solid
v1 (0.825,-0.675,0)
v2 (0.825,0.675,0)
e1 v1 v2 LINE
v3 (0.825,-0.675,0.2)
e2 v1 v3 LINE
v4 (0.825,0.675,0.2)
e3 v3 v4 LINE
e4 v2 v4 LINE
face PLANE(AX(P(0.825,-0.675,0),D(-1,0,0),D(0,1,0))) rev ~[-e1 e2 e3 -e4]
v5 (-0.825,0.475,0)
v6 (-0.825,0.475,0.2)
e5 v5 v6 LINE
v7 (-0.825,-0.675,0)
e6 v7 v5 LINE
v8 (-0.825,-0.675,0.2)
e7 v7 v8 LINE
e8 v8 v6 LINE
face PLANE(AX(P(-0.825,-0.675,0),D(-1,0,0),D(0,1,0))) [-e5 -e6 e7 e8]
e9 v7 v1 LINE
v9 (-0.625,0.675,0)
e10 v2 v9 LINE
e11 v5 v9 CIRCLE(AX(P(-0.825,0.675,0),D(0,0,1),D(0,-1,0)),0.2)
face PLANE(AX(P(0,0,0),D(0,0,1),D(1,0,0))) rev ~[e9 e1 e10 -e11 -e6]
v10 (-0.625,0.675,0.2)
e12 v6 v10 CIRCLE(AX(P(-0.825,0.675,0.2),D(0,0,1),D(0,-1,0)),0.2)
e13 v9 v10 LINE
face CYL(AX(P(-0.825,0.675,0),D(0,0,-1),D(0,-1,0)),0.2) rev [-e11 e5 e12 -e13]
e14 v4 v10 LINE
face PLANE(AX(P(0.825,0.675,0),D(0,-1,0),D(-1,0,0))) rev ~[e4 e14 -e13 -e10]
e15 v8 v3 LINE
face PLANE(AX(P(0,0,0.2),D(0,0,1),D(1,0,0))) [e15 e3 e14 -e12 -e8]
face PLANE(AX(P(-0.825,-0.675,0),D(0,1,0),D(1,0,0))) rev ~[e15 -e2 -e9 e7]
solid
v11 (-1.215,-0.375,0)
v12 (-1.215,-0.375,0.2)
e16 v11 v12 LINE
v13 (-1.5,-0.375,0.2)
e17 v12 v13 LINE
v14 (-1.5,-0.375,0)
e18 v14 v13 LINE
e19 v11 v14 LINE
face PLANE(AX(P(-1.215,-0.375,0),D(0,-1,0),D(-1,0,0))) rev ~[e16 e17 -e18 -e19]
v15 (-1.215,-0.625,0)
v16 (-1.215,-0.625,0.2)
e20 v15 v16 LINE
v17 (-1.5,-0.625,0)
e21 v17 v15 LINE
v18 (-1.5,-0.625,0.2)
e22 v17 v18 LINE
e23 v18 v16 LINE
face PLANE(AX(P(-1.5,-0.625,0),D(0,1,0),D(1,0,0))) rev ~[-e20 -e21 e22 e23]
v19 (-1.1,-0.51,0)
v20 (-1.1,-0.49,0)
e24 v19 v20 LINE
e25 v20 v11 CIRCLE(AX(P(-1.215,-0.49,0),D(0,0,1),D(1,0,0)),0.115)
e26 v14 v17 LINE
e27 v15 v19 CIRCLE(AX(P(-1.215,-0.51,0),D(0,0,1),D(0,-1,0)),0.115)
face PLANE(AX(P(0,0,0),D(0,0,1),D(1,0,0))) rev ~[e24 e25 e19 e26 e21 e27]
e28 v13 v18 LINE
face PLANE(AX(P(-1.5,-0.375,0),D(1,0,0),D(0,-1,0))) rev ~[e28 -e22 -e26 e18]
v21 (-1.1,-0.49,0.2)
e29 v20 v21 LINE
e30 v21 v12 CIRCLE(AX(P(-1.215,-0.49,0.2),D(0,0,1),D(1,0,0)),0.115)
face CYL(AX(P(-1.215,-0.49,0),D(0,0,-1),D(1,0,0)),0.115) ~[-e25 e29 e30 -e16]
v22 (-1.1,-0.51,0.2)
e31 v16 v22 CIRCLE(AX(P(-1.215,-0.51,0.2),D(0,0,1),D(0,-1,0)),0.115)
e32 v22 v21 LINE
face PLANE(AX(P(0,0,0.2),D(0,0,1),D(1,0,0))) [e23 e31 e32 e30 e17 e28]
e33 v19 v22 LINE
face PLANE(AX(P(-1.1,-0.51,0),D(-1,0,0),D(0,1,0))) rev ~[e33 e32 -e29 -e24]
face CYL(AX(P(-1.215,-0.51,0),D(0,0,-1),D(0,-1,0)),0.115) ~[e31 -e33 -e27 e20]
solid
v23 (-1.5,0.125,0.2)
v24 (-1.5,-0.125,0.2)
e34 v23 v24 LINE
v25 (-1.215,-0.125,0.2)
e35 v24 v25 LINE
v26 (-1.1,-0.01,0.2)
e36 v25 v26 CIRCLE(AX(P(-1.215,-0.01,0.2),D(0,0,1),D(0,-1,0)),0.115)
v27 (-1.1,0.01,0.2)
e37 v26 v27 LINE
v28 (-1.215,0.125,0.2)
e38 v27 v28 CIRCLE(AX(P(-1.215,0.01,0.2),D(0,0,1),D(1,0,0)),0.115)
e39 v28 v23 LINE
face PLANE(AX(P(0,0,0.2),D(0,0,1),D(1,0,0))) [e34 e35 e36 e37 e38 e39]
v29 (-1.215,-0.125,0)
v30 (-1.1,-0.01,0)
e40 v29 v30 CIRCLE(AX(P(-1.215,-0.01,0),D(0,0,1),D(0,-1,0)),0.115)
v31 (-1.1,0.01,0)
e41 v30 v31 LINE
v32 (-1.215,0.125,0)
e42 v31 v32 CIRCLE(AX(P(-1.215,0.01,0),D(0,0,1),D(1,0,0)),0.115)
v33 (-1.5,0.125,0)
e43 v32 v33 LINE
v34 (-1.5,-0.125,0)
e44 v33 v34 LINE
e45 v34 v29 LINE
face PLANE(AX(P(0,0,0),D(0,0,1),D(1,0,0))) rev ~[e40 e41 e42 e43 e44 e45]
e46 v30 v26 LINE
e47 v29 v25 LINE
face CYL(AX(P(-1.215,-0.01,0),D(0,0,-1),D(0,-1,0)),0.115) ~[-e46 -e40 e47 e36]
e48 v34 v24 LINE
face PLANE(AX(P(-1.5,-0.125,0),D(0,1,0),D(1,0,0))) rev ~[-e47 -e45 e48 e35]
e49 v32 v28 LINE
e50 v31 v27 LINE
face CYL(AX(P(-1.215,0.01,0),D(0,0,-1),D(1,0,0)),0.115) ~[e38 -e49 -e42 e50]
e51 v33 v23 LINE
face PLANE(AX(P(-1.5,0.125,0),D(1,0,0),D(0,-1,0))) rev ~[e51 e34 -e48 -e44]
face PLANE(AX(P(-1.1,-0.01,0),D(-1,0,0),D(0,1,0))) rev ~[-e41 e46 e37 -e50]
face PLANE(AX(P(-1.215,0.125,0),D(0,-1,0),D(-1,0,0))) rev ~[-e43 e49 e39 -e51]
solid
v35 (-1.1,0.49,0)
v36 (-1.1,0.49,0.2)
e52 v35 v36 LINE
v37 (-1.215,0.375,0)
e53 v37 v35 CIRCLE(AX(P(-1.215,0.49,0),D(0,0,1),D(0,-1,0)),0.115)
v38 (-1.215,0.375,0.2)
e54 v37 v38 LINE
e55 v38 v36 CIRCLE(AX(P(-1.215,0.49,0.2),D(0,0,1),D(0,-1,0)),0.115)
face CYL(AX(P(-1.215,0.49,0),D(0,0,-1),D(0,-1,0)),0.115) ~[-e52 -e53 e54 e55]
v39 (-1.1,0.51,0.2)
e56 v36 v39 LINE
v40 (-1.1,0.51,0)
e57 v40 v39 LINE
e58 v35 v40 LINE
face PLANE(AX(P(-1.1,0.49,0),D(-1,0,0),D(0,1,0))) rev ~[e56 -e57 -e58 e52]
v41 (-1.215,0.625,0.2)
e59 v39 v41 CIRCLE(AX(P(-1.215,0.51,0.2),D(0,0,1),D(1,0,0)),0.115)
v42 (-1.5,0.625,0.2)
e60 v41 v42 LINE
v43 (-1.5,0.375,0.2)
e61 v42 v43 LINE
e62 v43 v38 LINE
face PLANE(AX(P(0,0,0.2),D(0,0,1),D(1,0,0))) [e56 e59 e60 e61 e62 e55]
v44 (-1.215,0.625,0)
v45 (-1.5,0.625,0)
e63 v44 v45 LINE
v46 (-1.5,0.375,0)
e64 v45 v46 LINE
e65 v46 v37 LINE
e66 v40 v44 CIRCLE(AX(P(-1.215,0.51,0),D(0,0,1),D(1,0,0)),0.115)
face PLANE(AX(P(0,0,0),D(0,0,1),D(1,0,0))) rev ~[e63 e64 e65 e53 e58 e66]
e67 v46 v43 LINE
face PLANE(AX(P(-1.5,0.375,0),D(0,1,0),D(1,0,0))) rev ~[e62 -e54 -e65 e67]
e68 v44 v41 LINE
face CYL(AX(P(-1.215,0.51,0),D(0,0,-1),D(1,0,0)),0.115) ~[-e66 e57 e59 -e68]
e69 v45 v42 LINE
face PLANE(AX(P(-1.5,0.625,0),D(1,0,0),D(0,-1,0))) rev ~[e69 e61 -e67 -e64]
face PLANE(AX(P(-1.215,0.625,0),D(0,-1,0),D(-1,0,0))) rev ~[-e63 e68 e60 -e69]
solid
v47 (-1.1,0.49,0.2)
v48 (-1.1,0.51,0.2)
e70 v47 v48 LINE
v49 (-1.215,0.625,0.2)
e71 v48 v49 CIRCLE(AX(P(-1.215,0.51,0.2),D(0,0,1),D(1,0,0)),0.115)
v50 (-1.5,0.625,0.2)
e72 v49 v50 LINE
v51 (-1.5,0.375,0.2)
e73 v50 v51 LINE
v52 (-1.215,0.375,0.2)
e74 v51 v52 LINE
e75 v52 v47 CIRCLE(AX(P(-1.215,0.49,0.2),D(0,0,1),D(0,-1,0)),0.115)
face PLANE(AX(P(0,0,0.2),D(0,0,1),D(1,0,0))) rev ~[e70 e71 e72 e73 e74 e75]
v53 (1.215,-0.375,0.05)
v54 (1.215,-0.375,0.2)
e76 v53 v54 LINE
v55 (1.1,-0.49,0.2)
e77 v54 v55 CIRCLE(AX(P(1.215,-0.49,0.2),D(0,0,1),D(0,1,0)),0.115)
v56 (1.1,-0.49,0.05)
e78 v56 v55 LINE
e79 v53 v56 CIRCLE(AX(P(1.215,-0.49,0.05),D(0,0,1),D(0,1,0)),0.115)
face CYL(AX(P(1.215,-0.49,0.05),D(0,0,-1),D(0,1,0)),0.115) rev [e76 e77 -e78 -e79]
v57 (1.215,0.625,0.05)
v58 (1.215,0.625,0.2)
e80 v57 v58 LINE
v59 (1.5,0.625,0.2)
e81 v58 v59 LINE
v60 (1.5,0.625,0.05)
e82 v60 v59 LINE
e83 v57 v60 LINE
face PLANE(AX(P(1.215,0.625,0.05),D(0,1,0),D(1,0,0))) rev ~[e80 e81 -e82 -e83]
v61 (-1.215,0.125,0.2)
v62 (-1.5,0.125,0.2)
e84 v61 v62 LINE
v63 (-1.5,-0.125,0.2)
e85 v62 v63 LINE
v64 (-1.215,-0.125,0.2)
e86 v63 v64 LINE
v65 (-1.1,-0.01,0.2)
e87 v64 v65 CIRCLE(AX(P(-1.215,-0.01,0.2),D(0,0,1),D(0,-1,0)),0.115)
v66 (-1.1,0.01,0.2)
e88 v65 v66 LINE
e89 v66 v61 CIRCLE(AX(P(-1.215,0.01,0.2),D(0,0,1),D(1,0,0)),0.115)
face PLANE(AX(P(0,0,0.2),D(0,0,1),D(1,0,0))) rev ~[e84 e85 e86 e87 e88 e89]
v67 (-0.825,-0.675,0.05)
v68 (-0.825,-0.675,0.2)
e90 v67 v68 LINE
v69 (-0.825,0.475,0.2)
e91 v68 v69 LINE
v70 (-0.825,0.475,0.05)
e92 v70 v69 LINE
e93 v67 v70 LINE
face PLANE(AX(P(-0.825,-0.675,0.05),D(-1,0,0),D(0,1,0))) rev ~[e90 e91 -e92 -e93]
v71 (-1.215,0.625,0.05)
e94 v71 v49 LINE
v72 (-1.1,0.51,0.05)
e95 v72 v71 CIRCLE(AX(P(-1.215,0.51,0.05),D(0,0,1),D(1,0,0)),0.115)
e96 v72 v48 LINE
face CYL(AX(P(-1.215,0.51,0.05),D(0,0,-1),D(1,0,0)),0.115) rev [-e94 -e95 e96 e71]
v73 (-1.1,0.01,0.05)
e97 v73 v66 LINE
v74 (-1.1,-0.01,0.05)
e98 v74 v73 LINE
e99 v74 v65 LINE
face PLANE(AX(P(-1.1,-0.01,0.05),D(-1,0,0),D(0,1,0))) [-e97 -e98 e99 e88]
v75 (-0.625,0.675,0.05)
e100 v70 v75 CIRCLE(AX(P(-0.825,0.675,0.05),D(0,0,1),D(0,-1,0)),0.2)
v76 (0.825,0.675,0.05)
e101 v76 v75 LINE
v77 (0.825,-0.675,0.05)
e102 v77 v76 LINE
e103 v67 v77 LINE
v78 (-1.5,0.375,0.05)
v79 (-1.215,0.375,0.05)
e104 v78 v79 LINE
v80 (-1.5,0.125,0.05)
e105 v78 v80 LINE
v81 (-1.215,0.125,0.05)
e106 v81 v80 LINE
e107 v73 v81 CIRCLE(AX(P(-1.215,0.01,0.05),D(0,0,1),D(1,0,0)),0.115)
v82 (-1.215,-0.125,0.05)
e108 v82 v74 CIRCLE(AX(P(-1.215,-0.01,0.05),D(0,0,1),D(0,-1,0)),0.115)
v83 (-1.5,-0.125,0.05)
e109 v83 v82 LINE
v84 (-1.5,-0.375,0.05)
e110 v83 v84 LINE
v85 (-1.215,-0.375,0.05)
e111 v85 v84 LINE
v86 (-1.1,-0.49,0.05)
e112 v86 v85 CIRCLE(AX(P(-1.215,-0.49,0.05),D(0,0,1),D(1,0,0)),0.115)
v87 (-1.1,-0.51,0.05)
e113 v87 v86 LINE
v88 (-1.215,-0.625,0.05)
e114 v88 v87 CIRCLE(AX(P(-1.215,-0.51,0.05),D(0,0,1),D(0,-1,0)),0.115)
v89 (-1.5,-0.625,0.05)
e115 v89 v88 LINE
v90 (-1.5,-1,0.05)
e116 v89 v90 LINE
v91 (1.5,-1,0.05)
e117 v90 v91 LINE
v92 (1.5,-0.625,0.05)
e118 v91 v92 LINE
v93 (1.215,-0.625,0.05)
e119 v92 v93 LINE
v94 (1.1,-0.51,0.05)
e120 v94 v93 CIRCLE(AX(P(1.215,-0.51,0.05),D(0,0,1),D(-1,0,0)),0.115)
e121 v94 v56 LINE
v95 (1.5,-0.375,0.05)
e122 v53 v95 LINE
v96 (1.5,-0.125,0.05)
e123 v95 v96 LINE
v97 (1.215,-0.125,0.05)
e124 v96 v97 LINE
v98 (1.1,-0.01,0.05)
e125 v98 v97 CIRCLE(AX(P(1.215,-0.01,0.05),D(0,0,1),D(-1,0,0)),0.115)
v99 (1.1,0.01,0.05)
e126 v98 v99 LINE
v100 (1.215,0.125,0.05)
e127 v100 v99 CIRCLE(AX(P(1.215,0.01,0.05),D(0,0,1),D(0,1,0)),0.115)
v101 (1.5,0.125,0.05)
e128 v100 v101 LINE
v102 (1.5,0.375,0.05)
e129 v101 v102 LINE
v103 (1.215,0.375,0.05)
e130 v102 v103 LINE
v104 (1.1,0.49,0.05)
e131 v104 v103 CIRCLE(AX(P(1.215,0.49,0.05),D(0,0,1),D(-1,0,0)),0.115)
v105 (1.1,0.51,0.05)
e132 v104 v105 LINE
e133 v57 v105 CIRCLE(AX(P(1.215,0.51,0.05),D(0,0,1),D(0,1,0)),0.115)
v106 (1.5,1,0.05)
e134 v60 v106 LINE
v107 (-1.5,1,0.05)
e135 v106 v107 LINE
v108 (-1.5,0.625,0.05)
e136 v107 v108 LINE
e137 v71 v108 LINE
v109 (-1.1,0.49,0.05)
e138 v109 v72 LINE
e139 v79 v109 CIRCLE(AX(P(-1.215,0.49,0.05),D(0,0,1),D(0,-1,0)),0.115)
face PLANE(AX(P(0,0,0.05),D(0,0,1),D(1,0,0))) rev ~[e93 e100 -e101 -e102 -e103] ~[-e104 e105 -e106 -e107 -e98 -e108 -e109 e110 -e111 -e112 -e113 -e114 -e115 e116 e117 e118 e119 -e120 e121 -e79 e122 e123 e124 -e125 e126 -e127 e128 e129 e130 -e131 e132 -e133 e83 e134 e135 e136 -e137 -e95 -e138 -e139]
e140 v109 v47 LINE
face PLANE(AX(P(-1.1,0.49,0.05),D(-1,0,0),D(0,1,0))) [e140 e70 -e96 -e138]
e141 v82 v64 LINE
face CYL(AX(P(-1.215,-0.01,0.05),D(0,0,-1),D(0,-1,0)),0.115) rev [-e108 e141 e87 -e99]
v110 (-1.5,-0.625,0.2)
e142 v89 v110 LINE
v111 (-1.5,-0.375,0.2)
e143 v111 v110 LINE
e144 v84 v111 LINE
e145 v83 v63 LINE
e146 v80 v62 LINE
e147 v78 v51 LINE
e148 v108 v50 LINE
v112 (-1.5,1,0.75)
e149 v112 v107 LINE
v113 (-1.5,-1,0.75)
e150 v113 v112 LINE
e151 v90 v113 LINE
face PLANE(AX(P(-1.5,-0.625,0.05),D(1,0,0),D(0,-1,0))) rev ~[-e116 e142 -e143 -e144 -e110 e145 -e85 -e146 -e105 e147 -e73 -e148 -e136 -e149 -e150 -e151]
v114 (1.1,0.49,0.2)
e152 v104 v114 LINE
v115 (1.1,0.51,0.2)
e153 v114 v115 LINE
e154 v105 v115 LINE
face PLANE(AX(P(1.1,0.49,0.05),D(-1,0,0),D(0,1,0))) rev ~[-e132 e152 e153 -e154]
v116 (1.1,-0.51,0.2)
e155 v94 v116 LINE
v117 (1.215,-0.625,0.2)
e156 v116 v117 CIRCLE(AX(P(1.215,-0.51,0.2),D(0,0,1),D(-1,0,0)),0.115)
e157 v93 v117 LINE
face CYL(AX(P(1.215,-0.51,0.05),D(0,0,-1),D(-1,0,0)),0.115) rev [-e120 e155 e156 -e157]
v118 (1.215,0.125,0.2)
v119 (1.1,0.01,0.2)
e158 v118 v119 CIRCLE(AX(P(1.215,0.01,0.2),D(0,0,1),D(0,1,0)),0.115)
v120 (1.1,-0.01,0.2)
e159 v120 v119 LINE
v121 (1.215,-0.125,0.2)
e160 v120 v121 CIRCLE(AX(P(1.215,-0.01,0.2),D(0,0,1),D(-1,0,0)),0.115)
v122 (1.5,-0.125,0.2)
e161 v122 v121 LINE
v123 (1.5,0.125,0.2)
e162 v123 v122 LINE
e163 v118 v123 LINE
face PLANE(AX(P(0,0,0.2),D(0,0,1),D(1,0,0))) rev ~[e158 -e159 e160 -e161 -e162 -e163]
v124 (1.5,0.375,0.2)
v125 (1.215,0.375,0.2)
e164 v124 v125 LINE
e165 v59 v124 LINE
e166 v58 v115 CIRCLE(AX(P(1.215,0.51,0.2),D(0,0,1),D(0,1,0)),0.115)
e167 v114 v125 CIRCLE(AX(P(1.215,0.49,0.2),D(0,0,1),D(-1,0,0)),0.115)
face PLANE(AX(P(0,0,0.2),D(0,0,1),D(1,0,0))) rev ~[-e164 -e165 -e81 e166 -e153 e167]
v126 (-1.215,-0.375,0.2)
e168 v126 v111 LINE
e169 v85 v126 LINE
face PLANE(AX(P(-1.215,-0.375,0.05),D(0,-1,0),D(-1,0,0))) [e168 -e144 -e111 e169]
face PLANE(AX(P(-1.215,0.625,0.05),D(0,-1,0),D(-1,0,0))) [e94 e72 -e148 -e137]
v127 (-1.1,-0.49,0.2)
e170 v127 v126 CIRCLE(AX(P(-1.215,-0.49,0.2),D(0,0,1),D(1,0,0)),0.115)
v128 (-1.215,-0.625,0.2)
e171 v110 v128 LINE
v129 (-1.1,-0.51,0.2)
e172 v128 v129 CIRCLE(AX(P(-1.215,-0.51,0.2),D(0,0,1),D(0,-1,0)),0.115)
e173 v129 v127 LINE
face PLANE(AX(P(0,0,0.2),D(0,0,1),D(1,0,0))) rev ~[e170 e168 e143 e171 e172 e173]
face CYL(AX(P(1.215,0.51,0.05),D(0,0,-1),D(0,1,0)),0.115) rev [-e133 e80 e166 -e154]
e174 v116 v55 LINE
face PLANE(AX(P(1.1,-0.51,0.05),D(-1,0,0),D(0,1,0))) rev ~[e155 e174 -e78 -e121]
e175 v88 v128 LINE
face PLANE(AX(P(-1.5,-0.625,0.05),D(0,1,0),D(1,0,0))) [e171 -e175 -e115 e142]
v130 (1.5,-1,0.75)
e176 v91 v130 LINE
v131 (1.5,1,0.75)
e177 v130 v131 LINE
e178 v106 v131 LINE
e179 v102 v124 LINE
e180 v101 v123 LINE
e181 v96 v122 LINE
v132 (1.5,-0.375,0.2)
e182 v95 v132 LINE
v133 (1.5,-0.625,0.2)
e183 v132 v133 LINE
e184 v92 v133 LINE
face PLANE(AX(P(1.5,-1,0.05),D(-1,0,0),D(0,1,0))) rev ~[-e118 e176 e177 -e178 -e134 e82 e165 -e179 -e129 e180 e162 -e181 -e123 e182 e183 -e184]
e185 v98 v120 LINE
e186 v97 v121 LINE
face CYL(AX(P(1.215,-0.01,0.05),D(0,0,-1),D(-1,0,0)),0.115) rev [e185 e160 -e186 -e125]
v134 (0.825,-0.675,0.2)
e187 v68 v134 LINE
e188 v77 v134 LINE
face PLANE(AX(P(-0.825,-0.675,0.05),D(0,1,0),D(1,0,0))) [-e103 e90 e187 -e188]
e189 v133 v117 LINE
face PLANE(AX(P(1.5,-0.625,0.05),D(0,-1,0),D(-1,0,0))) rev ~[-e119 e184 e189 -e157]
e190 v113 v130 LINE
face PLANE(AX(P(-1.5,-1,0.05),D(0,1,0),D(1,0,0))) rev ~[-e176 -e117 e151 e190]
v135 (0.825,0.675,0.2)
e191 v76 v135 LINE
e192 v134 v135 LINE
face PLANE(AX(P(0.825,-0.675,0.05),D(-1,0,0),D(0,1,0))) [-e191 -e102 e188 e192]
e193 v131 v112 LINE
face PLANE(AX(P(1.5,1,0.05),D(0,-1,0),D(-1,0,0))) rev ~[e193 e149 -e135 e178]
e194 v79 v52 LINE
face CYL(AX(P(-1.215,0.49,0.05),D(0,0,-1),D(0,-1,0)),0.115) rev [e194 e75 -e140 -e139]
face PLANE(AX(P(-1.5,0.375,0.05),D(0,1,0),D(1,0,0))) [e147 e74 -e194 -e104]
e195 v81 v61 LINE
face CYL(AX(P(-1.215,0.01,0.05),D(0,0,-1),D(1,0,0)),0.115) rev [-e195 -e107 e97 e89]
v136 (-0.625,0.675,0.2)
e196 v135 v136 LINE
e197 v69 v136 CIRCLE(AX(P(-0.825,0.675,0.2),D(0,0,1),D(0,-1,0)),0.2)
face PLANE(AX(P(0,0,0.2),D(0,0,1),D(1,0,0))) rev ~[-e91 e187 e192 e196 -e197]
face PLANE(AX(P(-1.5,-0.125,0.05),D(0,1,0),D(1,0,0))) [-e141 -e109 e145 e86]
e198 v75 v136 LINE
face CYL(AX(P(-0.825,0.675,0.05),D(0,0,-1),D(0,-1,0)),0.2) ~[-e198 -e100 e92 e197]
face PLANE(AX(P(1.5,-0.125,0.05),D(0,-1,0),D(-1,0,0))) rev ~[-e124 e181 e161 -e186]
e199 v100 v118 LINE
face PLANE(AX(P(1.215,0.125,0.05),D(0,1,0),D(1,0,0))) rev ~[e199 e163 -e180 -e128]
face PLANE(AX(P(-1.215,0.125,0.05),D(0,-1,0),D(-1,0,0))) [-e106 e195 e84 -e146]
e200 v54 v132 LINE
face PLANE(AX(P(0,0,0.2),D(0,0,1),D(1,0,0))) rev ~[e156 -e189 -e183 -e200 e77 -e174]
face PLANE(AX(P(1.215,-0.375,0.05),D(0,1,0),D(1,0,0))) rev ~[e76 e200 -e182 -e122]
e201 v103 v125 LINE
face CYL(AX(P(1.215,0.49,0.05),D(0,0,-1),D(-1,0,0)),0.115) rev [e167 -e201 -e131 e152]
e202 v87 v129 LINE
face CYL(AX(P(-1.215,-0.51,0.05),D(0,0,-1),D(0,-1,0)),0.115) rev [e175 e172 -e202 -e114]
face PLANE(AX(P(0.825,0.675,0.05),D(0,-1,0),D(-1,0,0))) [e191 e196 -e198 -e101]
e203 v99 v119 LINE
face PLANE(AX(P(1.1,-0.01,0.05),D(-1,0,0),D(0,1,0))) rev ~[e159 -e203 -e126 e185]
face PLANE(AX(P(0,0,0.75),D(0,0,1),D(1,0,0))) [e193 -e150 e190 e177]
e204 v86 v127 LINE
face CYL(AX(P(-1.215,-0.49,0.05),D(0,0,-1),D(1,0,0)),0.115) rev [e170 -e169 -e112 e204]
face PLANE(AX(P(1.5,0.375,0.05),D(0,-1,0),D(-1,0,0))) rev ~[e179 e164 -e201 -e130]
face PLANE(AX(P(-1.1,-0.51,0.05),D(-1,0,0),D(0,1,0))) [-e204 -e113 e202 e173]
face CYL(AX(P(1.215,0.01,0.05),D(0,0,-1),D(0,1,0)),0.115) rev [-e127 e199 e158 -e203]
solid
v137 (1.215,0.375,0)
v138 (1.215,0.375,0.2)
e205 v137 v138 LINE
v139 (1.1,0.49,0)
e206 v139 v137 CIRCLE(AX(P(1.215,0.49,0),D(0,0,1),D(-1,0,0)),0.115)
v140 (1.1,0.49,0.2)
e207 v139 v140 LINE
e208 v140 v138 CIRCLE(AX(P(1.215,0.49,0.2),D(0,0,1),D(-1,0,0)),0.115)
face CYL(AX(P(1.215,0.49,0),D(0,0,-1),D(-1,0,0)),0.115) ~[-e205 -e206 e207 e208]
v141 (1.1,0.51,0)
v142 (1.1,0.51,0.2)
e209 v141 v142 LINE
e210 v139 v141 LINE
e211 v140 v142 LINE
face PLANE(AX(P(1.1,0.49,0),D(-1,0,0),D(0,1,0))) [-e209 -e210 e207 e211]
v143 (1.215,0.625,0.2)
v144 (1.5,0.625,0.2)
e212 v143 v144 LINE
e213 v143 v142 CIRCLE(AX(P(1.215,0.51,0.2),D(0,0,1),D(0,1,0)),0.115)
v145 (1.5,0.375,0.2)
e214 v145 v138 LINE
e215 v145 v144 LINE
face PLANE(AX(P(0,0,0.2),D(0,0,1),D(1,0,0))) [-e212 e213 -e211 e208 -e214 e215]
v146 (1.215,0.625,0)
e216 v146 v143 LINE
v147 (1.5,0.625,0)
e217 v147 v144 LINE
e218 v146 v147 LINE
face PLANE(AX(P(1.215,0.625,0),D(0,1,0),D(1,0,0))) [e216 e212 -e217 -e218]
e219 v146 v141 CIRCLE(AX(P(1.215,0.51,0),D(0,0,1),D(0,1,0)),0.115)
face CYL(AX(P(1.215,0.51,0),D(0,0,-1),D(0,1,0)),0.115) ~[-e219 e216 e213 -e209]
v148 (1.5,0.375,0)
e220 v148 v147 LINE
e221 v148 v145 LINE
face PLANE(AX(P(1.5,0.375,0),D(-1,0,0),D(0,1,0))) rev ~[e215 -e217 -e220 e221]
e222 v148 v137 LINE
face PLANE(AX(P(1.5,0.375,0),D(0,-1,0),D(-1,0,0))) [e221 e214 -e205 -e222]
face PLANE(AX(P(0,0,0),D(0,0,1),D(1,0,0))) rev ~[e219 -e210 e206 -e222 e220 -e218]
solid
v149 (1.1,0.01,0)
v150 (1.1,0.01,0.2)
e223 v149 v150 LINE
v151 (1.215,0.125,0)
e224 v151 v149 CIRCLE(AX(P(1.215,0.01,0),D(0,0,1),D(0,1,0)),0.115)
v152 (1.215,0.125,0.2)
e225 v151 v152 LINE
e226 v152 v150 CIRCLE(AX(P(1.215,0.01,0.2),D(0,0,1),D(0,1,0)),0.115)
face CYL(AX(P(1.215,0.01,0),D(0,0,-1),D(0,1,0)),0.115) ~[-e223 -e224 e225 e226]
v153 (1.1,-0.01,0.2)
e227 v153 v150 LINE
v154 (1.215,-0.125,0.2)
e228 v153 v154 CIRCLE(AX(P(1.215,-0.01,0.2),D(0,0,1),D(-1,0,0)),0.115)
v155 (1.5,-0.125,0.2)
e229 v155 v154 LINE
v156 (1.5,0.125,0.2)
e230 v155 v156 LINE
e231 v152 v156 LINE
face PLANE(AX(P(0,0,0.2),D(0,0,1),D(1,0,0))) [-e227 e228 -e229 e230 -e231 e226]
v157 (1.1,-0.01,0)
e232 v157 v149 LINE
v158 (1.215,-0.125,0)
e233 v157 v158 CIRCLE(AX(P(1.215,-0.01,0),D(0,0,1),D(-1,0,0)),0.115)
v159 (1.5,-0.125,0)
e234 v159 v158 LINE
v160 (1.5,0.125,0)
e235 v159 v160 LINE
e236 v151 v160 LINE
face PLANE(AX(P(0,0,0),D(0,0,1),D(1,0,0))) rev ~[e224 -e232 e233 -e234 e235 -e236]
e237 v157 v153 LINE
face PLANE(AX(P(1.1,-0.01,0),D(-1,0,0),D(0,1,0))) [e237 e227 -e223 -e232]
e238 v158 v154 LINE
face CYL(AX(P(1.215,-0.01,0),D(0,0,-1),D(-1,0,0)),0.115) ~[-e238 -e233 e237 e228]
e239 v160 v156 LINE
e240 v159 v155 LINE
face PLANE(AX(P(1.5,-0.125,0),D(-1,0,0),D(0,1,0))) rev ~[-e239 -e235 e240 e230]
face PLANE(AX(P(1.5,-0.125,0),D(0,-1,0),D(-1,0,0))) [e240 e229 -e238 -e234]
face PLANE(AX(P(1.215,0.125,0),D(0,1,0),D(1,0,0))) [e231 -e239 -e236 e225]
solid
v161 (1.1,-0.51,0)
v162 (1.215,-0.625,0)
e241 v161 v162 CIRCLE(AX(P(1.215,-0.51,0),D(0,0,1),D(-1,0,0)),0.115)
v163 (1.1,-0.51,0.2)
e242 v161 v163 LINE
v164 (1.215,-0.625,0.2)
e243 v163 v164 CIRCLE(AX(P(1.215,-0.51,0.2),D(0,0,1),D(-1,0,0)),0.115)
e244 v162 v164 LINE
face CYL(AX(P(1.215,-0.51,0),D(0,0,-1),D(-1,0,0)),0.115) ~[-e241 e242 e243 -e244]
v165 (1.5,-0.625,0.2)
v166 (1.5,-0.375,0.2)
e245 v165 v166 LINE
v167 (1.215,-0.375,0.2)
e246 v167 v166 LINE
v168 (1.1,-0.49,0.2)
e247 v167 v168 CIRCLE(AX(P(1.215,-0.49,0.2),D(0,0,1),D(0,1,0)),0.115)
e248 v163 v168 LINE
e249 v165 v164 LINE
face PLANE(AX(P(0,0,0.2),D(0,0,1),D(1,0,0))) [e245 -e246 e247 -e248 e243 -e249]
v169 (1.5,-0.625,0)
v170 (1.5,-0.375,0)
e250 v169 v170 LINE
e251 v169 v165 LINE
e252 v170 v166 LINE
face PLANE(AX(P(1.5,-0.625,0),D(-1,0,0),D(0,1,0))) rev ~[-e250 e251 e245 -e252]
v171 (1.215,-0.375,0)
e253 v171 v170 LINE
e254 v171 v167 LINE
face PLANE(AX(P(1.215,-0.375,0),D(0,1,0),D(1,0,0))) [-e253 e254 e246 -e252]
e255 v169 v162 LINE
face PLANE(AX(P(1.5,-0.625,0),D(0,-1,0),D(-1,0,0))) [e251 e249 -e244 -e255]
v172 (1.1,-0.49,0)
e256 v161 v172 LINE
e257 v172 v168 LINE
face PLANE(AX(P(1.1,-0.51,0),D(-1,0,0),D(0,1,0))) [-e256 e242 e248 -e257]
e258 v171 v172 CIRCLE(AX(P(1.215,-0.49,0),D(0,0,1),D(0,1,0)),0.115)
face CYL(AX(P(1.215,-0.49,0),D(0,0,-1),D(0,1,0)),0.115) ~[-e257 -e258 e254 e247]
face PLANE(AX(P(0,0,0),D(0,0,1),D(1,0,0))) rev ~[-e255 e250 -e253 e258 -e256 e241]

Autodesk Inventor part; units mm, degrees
sketch "Sketch1" plane through (0, 0, 0) normal (0, 0, 1) x (1, 0, 0)
  line L0 (-1.5, -1) -> (1.5, -1)
  line L1 (1.5, -1) -> (1.5, 1)
  line L2 (1.5, 1) -> (-1.5, 1)
  line L3 (-1.5, 1) -> (-1.5, -1)
  line L4 (-1.5, -1) -> (1.5, 1) construction
  line L5 (1.5, -1) -> (-1.5, 1) construction
  line L6 (-1.5, 0.375) -> (-1.215, 0.375)
  line L7 (-1.1, 0.49) -> (-1.1, 0.51)
  line L8 (-1.215, 0.625) -> (-1.5, 0.625)
  line L9 (-1.5, 0.625) -> (-1.5, 0.375)
  line L10 (-1.5, 0.375) -> (-1.1, 0.625) construction
  line L11 (-1.1, 0.375) -> (-1.5, 0.625) construction
  arc A0 (-1.215, 0.375) -> (-1.1, 0.49) centre (-1.215, 0.49) ccw
  arc A1 (-1.1, 0.51) -> (-1.215, 0.625) centre (-1.215, 0.51) ccw
  line L12 (0, 1) -> (0, -1) construction
  line L13 (1.5, 0.375) -> (1.215, 0.375)
  line L14 (1.1, 0.49) -> (1.1, 0.51)
  line L15 (1.215, 0.625) -> (1.5, 0.625)
  line L16 (1.5, 0.625) -> (1.5, 0.375)
  arc A2 (1.1, 0.49) -> (1.215, 0.375) centre (1.215, 0.49) ccw
  arc A3 (1.215, 0.625) -> (1.1, 0.51) centre (1.215, 0.51) ccw
  line L17 (-1.5, 0.125) -> (-1.5, -0.125)
  line L18 (-1.215, 0.125) -> (-1.5, 0.125)
  arc A4 (-1.1, 0.01) -> (-1.215, 0.125) centre (-1.215, 0.01) ccw
  arc A5 (-1.215, -0.125) -> (-1.1, -0.01) centre (-1.215, -0.01) ccw
  line L19 (-1.1, -0.01) -> (-1.1, 0.01)
  line L20 (-1.5, -0.125) -> (-1.215, -0.125)
  line L21 (1.5, 0.125) -> (1.5, -0.125)
  line L22 (1.5, -0.125) -> (1.215, -0.125)
  line L23 (1.215, 0.125) -> (1.5, 0.125)
  arc A6 (1.1, -0.01) -> (1.215, -0.125) centre (1.215, -0.01) ccw
  line L24 (1.1, -0.01) -> (1.1, 0.01)
  arc A7 (1.215, 0.125) -> (1.1, 0.01) centre (1.215, 0.01) ccw
  line L25 (-1.5, -0.375) -> (-1.5, -0.625)
  line L26 (-1.215, -0.375) -> (-1.5, -0.375)
  arc A8 (-1.1, -0.49) -> (-1.215, -0.375) centre (-1.215, -0.49) ccw
  arc A9 (-1.215, -0.625) -> (-1.1, -0.51) centre (-1.215, -0.51) ccw
  line L27 (-1.1, -0.51) -> (-1.1, -0.49)
  line L28 (-1.5, -0.625) -> (-1.215, -0.625)
  line L29 (1.5, -0.375) -> (1.5, -0.625)
  line L30 (1.5, -0.625) -> (1.215, -0.625)
  line L31 (1.215, -0.375) -> (1.5, -0.375)
  arc A10 (1.1, -0.51) -> (1.215, -0.625) centre (1.215, -0.51) ccw
  line L32 (1.1, -0.51) -> (1.1, -0.49)
  arc A11 (1.215, -0.375) -> (1.1, -0.49) centre (1.215, -0.49) ccw
  line L33 (-0.825, -0.675) -> (0.825, -0.675)
  line L34 (0.825, -0.675) -> (0.825, 0.675)
  line L35 (0.825, 0.675) -> (-0.625, 0.675)
  line L36 (-0.825, 0.675) -> (-0.825, -0.675) construction
  line L37 (-0.825, -0.675) -> (0.825, 0.675) construction
  line L38 (0.825, -0.675) -> (-0.825, 0.675) construction
  arc A12 (-0.825, 0.475) -> (-0.625, 0.675) centre (-0.825, 0.675) ccw
  line L39 (-0.825, 0.675) -> (-0.825, 0.55) construction
  line L40 (-0.825, 0.675) -> (-0.625, 0.675) construction
  line L41 (-0.625, 0.675) -> (-0.825, 0.675) construction
  line L42 (-0.825, 0.55) -> (-0.825, 0.475) construction
  line L43 (-0.825, -0.675) -> (-0.825, 0.475)
  point P0 (0, 0)
  point P1 (-1.3, 0.5)
  point P2 (-1.1, 0.125)
  point P3 (-1.1, -0.125)
  point P4 (-1.1, -0.375)
  point P5 (-1.1, -0.625)
  dimension "d0" = 3
  dimension "d1" = 2
  dimension "d2" = 0.4
  dimension "d3" = 0.25
  dimension "d4" = 0.5
  dimension "d5" = 0.115
  dimension "d8" = 0.5
  dimension "d32" = 1.65
  dimension "d33" = 1.35
  dimension "d34" = 0.2
  dimension "d35" = 90
ref_plane "Work Plane1" through (0, 0, 0.75) normal (0, 0, 1) x (1, 0, 0)
ref_plane "Work Plane2" through (0, 0, 0.05) normal (0, 0, 1) x (1, 0, 0)
ref_plane "Work Plane3" through (0, 0, 0.2) normal (0, 0, 1) x (1, 0, 0)
extrude "Extrusion2" add sketch "Sketch1" along normal up to surface (0.55 mm away) from surface at 0.2 contours L3 L28 A9 L27 A8 L26 L20 A5 L19 A4 L18 L6 A0 L7 A1 L8 L2 L1 L15 A3 L14 A2 L13 L23 A7 L24 A6 L22 L31 A11 L32 A10 L30 L0 | L3 L26 A8 L27 A9 L28 | L30 A10 L32 A11 L31 L1 | L3 L18 A4 L19 A5 L20 | L22 A6 L24 A7 L23 L1 | L3 L8 A1 L7 A0 L6 | L13 A2 L14 A3 L15 L1 | L43 A12 L35 L34 L33
extrude "Extrusion3" add sketch "Sketch1" along normal up to surface (0.15 mm away) from surface at 0.05 contours L3 L28 A9 L27 A8 L26 L20 A5 L19 A4 L18 L6 A0 L7 A1 L8 L2 L1 L15 A3 L14 A2 L13 L23 A7 L24 A6 L22 L31 A11 L32 A10 L30 L0
extrude "Extrusion4" add sketch "Sketch1" along normal up to surface (0.2 mm away) from surface at 0 separate body contours L3 L26 A8 L27 A9 L28 | L30 A10 L32 A11 L31 L1 | L3 L18 A4 L19 A5 L20 | L22 A6 L24 A7 L23 L1 | L3 L8 A1 L7 A0 L6 | L13 A2 L14 A3 L15 L1 | L43 A12 L35 L34 L33
properties part number "DFN-6-1EP_3x2mm_P0.5mm_EP1.65x1.35mm"
